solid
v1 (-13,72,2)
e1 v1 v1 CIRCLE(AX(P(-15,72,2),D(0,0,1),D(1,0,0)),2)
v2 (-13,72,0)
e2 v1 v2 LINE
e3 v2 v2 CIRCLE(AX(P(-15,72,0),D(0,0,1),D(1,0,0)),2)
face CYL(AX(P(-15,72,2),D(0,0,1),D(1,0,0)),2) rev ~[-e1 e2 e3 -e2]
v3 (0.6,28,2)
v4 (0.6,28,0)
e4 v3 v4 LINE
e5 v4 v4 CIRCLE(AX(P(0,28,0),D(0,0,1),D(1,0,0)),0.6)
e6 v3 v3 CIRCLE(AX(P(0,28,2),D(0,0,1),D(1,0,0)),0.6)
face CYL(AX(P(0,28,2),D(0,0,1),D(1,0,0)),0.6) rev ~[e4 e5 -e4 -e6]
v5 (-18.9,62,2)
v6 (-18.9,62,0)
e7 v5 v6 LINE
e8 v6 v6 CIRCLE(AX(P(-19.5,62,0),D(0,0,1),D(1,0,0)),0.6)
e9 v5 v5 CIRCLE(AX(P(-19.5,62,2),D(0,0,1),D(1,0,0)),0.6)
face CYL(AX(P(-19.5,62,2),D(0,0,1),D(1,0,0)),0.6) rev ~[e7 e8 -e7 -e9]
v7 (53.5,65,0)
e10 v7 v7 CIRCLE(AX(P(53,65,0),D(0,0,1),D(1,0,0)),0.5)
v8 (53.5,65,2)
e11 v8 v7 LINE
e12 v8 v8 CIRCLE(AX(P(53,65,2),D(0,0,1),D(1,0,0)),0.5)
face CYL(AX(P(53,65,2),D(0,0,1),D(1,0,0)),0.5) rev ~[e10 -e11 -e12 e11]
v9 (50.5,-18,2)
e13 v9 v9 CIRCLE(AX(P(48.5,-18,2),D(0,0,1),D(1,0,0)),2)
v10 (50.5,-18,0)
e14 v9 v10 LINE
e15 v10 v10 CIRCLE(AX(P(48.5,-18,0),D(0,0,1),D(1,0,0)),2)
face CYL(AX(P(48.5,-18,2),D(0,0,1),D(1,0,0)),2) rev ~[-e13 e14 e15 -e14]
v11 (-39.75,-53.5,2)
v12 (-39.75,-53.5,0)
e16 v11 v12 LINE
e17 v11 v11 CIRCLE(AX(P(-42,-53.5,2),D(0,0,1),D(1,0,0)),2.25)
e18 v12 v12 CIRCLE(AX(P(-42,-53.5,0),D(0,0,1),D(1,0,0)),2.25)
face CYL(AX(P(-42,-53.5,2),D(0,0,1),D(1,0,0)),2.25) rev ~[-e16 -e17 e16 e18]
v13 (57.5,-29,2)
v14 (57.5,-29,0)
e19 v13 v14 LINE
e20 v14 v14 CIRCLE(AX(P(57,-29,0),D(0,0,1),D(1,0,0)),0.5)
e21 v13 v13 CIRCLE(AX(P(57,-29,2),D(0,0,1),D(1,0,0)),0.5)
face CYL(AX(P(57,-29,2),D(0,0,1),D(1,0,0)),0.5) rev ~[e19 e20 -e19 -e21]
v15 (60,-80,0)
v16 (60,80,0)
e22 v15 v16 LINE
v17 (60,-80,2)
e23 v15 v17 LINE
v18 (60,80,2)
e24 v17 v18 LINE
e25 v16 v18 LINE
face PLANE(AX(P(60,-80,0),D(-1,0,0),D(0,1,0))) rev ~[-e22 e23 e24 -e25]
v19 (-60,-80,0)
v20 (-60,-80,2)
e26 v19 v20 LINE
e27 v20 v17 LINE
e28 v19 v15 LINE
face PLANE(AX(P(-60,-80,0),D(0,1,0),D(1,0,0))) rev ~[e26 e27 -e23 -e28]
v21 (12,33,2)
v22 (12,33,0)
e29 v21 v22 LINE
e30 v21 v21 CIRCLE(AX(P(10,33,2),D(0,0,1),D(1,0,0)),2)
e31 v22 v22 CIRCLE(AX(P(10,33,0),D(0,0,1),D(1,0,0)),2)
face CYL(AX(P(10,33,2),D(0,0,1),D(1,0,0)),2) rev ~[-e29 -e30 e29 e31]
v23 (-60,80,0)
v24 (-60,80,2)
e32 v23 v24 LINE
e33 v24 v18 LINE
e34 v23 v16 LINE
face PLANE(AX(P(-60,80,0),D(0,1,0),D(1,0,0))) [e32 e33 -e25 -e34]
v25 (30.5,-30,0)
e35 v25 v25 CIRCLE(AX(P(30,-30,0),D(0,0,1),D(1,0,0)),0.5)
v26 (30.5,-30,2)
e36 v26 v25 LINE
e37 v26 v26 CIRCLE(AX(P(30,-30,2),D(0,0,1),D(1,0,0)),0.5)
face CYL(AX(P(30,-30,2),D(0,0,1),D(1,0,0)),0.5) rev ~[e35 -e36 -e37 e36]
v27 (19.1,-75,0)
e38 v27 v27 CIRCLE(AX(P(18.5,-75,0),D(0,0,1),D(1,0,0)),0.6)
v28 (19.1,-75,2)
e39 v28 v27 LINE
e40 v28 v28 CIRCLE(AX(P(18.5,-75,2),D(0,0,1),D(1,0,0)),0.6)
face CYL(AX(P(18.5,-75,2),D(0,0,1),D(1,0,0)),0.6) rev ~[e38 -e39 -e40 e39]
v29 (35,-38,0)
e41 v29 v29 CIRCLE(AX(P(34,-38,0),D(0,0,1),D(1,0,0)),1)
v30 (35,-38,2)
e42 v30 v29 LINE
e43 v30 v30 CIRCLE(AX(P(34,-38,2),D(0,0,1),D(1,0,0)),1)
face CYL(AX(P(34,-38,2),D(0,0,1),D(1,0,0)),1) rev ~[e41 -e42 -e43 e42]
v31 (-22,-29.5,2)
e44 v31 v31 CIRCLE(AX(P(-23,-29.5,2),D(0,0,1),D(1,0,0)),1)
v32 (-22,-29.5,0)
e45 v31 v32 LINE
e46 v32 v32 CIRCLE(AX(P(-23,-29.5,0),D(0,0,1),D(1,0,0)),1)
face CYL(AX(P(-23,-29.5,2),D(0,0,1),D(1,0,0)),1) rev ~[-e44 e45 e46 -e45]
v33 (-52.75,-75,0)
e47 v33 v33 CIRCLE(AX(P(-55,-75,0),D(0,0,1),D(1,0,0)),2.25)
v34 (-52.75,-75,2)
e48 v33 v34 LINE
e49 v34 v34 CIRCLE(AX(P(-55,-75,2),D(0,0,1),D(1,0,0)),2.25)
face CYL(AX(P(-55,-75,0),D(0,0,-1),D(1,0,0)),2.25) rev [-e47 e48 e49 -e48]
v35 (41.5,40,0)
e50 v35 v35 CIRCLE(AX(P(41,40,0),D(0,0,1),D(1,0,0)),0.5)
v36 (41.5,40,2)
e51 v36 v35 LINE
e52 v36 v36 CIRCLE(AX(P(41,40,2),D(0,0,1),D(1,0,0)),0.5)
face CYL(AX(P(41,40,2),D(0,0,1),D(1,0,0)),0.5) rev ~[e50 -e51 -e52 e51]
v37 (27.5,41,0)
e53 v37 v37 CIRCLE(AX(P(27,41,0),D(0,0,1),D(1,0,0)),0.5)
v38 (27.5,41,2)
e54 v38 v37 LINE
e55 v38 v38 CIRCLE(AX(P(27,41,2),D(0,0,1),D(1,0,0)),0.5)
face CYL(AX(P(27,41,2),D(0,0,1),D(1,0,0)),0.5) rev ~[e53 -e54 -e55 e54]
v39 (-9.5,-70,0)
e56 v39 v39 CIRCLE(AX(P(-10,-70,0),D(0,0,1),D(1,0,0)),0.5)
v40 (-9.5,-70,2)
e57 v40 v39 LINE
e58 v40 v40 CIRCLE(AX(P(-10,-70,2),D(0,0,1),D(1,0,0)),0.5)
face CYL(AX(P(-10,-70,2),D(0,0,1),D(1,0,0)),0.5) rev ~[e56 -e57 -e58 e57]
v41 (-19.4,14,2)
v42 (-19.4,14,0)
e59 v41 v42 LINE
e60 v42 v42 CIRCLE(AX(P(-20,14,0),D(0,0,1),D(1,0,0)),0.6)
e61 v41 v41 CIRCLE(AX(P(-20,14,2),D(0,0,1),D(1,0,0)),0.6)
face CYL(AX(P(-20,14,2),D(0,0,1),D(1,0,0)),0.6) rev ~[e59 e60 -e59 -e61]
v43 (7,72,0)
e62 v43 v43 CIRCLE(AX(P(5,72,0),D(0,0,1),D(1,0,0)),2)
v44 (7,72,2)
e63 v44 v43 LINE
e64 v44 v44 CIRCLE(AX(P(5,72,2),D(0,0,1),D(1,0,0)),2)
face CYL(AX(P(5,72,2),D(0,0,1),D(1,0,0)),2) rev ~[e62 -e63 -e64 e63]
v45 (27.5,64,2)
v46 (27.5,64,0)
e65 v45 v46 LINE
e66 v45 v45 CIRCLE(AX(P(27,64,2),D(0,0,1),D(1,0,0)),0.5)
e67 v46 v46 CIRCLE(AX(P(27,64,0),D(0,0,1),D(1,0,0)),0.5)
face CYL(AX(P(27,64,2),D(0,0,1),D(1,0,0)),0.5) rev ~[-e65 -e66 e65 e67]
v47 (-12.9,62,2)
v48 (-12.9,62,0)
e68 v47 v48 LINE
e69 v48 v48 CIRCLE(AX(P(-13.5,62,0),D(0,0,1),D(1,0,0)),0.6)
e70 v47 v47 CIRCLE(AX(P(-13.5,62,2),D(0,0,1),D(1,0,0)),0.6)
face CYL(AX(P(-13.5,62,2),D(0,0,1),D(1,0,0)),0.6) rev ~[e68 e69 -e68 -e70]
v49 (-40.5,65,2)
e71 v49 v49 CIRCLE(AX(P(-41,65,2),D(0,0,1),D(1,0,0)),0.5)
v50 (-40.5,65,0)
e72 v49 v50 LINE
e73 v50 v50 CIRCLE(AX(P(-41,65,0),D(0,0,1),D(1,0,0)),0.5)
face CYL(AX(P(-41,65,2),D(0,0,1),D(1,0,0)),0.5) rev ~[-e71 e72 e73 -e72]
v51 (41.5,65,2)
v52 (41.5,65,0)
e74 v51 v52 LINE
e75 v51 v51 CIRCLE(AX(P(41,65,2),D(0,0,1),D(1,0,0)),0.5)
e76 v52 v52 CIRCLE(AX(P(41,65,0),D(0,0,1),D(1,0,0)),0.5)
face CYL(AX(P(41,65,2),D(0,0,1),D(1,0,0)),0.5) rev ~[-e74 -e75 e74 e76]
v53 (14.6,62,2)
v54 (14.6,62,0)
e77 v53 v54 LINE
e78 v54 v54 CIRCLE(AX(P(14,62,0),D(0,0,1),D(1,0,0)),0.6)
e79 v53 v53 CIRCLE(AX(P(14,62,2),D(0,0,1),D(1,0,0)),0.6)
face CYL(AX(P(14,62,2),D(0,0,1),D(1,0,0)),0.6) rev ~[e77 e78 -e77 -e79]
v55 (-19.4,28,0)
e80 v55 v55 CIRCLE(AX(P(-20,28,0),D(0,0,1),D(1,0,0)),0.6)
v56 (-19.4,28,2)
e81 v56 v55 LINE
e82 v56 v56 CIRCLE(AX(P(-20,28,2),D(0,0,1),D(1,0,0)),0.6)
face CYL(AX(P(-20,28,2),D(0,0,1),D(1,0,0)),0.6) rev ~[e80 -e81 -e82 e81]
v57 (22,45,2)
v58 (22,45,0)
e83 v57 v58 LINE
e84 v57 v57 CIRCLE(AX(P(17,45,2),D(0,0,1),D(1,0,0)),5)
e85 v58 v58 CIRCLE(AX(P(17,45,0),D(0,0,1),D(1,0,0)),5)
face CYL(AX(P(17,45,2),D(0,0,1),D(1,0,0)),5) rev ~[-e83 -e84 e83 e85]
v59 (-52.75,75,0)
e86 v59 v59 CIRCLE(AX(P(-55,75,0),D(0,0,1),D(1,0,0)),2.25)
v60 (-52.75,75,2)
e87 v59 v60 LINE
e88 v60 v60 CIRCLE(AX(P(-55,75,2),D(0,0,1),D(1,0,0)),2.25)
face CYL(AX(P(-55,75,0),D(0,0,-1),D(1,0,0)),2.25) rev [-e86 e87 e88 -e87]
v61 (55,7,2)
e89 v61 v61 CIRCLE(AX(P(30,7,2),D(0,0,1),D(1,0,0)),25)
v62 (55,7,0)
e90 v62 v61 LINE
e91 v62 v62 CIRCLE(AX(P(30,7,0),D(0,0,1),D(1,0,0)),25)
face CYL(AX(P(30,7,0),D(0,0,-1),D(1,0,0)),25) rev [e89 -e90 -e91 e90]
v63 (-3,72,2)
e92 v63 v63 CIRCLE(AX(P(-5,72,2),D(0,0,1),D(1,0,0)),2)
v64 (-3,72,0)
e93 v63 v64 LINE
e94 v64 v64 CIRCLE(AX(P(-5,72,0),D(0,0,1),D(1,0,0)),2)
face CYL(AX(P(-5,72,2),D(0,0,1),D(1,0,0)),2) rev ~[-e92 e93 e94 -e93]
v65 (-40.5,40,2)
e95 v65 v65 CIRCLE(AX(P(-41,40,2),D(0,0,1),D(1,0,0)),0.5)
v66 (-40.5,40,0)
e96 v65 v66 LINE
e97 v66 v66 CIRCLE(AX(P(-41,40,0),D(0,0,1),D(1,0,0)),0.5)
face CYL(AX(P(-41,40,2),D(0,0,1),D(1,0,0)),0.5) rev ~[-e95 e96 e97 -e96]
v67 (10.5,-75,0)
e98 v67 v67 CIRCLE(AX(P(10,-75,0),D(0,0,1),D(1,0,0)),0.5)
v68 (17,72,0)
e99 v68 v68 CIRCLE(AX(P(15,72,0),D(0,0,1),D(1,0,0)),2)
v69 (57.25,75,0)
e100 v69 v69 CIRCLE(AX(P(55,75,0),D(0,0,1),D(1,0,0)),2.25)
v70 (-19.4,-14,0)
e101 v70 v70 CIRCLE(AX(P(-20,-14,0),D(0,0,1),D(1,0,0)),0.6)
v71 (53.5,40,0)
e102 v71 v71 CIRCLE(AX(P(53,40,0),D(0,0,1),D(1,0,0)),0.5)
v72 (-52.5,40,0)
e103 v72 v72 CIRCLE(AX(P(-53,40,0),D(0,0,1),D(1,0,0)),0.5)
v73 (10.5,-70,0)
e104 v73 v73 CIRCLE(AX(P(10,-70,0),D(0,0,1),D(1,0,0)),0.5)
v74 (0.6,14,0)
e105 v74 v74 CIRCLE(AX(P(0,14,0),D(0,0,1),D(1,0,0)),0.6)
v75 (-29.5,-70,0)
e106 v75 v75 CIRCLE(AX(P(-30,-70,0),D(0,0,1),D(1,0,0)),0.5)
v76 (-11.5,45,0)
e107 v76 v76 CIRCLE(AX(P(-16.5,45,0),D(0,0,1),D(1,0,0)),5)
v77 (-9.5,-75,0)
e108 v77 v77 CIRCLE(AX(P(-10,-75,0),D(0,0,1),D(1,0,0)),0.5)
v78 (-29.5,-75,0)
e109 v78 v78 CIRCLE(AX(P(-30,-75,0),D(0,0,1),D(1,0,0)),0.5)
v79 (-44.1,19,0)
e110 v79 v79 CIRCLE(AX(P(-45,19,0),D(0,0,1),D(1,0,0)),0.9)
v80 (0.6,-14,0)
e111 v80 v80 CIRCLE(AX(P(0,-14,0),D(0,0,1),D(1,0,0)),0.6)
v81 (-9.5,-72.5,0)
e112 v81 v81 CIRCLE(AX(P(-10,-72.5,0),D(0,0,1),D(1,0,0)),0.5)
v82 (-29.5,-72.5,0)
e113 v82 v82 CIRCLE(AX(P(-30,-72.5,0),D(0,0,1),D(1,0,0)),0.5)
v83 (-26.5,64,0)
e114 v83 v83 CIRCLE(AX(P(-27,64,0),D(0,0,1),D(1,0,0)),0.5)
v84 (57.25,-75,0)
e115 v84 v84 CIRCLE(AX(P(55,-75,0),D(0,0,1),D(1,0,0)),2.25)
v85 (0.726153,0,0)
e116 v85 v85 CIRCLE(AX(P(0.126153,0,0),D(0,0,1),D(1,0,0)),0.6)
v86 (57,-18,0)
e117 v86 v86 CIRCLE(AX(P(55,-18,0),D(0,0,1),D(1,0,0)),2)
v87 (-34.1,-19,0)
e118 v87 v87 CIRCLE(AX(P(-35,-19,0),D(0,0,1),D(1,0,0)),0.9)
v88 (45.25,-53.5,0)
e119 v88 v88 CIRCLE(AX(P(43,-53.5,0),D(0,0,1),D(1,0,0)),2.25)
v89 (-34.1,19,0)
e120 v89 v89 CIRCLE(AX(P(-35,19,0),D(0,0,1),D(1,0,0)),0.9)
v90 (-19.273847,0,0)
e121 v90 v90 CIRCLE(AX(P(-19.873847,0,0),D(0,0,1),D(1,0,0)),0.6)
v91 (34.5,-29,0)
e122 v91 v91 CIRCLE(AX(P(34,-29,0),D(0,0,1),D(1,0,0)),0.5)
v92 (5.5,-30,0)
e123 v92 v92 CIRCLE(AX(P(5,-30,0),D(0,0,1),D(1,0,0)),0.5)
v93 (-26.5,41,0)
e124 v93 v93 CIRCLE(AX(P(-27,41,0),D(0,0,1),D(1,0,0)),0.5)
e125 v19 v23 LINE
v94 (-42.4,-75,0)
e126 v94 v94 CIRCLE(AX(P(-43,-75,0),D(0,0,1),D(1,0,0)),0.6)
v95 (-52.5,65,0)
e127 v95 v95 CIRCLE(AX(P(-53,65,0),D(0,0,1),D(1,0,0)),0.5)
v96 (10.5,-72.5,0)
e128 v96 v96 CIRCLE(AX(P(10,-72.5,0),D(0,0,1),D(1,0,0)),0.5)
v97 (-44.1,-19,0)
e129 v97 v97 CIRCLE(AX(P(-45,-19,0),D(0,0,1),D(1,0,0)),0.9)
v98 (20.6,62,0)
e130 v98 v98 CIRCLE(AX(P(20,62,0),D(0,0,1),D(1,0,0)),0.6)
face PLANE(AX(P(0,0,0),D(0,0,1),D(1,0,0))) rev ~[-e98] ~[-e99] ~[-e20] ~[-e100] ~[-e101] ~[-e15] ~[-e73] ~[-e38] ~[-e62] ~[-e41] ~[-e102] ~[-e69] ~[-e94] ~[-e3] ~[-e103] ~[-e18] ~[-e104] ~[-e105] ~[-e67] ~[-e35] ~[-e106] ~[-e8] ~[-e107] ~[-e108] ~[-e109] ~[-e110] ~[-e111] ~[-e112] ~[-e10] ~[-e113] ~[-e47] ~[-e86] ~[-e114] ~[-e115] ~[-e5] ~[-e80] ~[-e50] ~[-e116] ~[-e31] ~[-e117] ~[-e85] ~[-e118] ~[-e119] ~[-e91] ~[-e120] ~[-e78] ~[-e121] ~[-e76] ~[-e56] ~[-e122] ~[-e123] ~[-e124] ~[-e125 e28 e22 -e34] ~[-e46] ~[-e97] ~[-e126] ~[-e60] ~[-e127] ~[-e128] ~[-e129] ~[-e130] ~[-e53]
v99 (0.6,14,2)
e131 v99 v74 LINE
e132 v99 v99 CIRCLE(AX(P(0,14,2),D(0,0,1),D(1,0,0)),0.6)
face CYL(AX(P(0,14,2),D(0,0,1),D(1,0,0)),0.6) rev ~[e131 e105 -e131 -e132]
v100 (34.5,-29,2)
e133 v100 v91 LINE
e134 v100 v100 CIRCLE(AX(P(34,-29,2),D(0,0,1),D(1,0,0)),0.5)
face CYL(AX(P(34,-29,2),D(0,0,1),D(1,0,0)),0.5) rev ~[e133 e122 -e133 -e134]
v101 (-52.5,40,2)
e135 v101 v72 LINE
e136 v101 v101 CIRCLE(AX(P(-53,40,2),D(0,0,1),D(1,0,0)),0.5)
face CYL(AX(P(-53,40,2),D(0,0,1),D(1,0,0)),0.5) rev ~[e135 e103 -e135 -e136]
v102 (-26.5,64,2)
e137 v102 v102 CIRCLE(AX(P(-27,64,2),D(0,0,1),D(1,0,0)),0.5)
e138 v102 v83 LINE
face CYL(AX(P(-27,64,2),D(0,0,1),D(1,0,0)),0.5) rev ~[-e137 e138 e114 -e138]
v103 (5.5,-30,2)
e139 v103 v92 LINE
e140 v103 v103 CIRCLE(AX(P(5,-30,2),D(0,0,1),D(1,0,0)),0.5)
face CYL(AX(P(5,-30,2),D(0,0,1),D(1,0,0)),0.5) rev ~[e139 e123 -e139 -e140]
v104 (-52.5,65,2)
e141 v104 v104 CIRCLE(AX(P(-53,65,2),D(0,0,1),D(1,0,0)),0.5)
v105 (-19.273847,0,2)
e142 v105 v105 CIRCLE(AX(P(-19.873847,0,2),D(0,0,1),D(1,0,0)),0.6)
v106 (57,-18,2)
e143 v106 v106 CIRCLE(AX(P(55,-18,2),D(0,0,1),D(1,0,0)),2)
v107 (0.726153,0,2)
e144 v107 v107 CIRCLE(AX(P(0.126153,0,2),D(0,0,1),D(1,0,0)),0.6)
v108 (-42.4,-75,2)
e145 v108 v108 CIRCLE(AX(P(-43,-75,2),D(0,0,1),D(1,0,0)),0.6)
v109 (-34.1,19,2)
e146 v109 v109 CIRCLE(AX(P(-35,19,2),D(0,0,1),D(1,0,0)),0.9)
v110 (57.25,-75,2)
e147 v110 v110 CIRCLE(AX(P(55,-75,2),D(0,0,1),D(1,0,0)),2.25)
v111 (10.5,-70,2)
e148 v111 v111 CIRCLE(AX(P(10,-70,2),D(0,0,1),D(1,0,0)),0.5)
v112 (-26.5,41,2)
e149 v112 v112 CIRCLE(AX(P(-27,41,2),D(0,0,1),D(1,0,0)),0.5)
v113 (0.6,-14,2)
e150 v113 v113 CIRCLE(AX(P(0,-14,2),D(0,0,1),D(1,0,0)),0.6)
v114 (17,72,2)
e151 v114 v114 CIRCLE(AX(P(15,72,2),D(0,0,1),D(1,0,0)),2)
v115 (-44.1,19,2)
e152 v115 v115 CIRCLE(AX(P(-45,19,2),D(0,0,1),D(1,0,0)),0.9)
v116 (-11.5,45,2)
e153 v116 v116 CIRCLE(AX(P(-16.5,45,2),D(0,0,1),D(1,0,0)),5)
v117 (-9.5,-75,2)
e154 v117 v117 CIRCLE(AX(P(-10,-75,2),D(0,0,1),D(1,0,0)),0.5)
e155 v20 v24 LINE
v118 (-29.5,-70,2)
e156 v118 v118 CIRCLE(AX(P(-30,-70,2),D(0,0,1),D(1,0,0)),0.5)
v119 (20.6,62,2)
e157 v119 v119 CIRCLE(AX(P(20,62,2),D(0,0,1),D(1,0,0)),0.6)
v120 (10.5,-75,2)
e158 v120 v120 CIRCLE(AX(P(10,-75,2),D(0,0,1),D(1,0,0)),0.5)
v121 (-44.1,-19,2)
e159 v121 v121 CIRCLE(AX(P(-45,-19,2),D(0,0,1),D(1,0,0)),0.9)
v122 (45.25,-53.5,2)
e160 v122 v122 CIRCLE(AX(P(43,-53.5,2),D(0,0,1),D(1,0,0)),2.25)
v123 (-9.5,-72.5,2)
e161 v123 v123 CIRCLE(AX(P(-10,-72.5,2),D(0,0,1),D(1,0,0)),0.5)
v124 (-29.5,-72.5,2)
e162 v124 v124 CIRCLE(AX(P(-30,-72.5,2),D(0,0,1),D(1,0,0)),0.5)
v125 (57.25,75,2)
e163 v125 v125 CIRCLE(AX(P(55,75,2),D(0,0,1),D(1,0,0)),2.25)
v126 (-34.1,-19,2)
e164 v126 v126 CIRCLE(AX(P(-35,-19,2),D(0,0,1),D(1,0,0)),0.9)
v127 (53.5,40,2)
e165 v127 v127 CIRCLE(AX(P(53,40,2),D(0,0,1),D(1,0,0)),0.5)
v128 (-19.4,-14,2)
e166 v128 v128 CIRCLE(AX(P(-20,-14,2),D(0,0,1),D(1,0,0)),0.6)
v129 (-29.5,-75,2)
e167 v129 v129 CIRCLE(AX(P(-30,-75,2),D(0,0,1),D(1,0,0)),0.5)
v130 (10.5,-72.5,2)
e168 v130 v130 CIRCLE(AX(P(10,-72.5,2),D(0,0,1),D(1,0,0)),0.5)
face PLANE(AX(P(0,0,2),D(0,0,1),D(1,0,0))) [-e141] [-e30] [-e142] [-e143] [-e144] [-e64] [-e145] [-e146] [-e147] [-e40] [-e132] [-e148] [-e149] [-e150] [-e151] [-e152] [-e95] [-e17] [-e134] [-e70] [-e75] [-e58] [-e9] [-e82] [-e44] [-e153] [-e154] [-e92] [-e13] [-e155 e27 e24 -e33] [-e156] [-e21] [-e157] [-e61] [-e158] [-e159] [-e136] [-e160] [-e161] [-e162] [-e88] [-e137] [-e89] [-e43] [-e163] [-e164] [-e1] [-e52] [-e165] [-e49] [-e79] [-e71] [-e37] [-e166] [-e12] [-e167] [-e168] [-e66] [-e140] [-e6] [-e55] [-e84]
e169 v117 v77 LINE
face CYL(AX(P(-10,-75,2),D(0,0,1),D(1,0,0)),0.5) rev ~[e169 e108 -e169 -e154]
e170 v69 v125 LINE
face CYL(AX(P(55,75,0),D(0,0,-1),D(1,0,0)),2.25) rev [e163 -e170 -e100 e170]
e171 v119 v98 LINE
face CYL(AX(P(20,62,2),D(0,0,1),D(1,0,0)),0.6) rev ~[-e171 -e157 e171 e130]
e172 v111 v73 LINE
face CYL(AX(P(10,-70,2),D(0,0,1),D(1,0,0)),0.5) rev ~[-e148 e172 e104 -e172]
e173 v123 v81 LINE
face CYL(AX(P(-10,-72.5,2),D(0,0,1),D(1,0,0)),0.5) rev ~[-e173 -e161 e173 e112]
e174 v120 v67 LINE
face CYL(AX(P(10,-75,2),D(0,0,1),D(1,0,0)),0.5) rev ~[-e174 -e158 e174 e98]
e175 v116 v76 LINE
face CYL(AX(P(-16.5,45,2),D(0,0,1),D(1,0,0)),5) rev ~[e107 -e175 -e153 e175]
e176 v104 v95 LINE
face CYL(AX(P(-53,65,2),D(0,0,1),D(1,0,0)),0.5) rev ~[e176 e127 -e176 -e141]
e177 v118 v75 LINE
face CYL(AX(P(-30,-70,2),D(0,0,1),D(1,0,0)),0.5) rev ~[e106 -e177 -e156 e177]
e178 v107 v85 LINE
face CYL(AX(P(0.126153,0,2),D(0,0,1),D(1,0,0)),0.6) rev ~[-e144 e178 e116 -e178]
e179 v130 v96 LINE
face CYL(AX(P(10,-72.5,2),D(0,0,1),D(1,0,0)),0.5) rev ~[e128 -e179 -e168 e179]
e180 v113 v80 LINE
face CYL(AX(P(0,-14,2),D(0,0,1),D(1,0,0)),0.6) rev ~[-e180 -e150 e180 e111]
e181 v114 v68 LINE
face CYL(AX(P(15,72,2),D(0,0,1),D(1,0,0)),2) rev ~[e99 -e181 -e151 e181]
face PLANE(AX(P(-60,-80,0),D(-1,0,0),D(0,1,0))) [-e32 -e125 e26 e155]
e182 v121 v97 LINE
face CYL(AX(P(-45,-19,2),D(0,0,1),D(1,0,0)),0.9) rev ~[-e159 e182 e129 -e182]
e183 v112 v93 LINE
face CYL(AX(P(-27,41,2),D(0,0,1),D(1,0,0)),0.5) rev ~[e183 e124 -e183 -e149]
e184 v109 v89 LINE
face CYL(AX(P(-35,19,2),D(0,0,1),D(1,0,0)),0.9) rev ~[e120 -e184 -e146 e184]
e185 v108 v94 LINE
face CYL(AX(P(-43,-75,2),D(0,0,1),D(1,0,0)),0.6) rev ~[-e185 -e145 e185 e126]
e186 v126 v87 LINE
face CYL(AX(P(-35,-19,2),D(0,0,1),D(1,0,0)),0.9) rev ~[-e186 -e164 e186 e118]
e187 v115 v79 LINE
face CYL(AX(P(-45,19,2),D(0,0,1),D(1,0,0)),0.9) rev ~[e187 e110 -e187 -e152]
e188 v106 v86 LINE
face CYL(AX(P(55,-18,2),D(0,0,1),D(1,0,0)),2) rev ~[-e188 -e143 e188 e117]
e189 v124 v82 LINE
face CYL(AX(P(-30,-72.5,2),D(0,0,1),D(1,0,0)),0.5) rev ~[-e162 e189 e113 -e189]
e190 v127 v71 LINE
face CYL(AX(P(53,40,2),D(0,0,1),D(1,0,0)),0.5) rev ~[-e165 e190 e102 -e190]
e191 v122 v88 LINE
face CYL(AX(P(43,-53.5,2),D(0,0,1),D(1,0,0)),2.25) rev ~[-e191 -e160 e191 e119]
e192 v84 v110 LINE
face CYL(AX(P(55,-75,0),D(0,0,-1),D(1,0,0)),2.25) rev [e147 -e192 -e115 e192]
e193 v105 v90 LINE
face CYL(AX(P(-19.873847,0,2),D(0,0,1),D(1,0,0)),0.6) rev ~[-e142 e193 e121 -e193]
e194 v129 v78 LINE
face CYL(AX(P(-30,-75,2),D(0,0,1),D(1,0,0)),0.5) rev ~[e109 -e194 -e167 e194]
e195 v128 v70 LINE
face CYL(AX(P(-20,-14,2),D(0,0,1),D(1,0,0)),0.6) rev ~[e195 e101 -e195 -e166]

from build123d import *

# Parameters (mm, degrees)
SKETCH_1_W          = 120
SKETCH_1_H          = 160
SKETCH_1_R          = 2.25
SKETCH_1_R_2        = 25
EXTRUDE_1_DEPTH     = 2
SKETCH_2_R          = 2.25
SKETCH_2_R_2        = 0.6
SKETCH_2_R_3        = 0.5
SKETCH_2_R_4        = 2
CUT_EXTRUDE_1_DEPTH = 2
SKETCH_3_R          = 5
SKETCH_3_R_2        = 0.6
SKETCH_3_R_3        = 1
CUT_EXTRUDE_2_DEPTH = 2
SKETCH_4_R          = 0.9
SKETCH_4_R_2        = 0.6
CUT_EXTRUDE_3_DEPTH = 2
SKETCH_5_R          = 0.5
CUT_EXTRUDE_4_DEPTH = 2


with BuildPart() as part:
    # Эскиз1 → Вытянуть1 (new body)
    with BuildSketch(Plane.XY):
        Rectangle(SKETCH_1_W, SKETCH_1_H)
        with Locations((-55, -75)):
            Circle(SKETCH_1_R, mode=Mode.SUBTRACT)
        with Locations((55, -75)):
            Circle(SKETCH_1_R, mode=Mode.SUBTRACT)
        with Locations((55, 75)):
            Circle(SKETCH_1_R, mode=Mode.SUBTRACT)
        with Locations((-55, 75)):
            Circle(SKETCH_1_R, mode=Mode.SUBTRACT)
        with Locations((30, 7)):
            Circle(SKETCH_1_R_2, mode=Mode.SUBTRACT)
    extrude(amount=EXTRUDE_1_DEPTH)

    # Эскиз2 → Вырез-Вытянуть1 (cut)
    with BuildSketch(Plane.XY.offset(2)):
        with Locations((-42, -53.5)):
            Circle(SKETCH_2_R)
        with Locations((43, -53.5)):
            Circle(SKETCH_2_R)
        with Locations((-43, -75)):
            Circle(SKETCH_2_R_2)
        with Locations((18.5, -75)):
            Circle(SKETCH_2_R_2)
        with Locations((-30, -70)):
            Circle(SKETCH_2_R_3)
        with Locations((-30, -72.5)):
            Circle(SKETCH_2_R_3)
        with Locations((-30, -75)):
            Circle(SKETCH_2_R_3)
        with Locations((-10, -70)):
            Circle(SKETCH_2_R_3)
        with Locations((-10, -72.5)):
            Circle(SKETCH_2_R_3)
        with Locations((-10, -75)):
            Circle(SKETCH_2_R_3)
        with Locations((10, -70)):
            Circle(SKETCH_2_R_3)
        with Locations((10, -72.5)):
            Circle(SKETCH_2_R_3)
        with Locations((10, -75)):
            Circle(SKETCH_2_R_3)
        with Locations((-15, 72)):
            Circle(SKETCH_2_R_4)
        with Locations((-5, 72)):
            Circle(SKETCH_2_R_4)
        with Locations((5, 72)):
            Circle(SKETCH_2_R_4)
        with Locations((15, 72)):
            Circle(SKETCH_2_R_4)
        with Locations((10, 33)):
            Circle(SKETCH_2_R_4)
        with Locations((55, -18)):
            Circle(SKETCH_2_R_4)
        with Locations((48.5, -18)):
            Circle(SKETCH_2_R_4)
    extrude(amount=-CUT_EXTRUDE_1_DEPTH, mode=Mode.SUBTRACT)

    # Эскиз3 → Вырез-Вытянуть2 (cut)
    with BuildSketch(Plane.XY.offset(2)):
        with Locations((-16.5, 45)):
            Circle(SKETCH_3_R)
        with Locations((17, 45)):
            Circle(SKETCH_3_R)
        with Locations((-19.5, 62)):
            Circle(SKETCH_3_R_2)
        with Locations((-13.5, 62)):
            Circle(SKETCH_3_R_2)
        with Locations((14, 62)):
            Circle(SKETCH_3_R_2)
        with Locations((20, 62)):
            Circle(SKETCH_3_R_2)
        with Locations((34, -38)):
            Circle(SKETCH_3_R_3)
        with Locations((-23, -29.5)):
            Circle(SKETCH_3_R_3)
    extrude(amount=-CUT_EXTRUDE_2_DEPTH, mode=Mode.SUBTRACT)

    # Эскиз4 → Вырез-Вытянуть3 (cut)
    with BuildSketch(Plane.XY.offset(2)):
        with Locations((-45, 19)):
            Circle(SKETCH_4_R)
        with Locations((-35, 19)):
            Circle(SKETCH_4_R)
        with Locations((-35, -19)):
            Circle(SKETCH_4_R)
        with Locations((-45, -19)):
            Circle(SKETCH_4_R)
        with Locations((-20, -14)):
            Circle(SKETCH_4_R_2)
        with Locations((0, -14)):
            Circle(SKETCH_4_R_2)
        with Locations((-19.873847439, 0)):
            Circle(SKETCH_4_R_2)
        with Locations((0.126152561, 0)):
            Circle(SKETCH_4_R_2)
        with Locations((-20, 14)):
            Circle(SKETCH_4_R_2)
        with Locations((0, 14)):
            Circle(SKETCH_4_R_2)
        with Locations((-20, 28)):
            Circle(SKETCH_4_R_2)
        with Locations((0, 28)):
            Circle(SKETCH_4_R_2)
    extrude(amount=-CUT_EXTRUDE_3_DEPTH, mode=Mode.SUBTRACT)

    # Эскиз5 → Вырез-Вытянуть4 (cut)
    with BuildSketch(Plane.XY.offset(2)):
        with Locations((-53, 40)):
            Circle(SKETCH_5_R)
        with Locations((-53, 65)):
            Circle(SKETCH_5_R)
        with Locations((-41, 40)):
            Circle(SKETCH_5_R)
        with Locations((-41, 65)):
            Circle(SKETCH_5_R)
        with Locations((41, 40)):
            Circle(SKETCH_5_R)
        with Locations((41, 65)):
            Circle(SKETCH_5_R)
        with Locations((53, 40)):
            Circle(SKETCH_5_R)
        with Locations((53, 65)):
            Circle(SKETCH_5_R)
        with Locations((-27, 41)):
            Circle(SKETCH_5_R)
        with Locations((-27, 64)):
            Circle(SKETCH_5_R)
        with Locations((27, 41)):
            Circle(SKETCH_5_R)
        with Locations((27, 64)):
            Circle(SKETCH_5_R)
        with Locations((34, -29)):
            Circle(SKETCH_5_R)
        with Locations((57, -29)):
            Circle(SKETCH_5_R)
        with Locations((5, -30)):
            Circle(SKETCH_5_R)
        with Locations((30, -30)):
            Circle(SKETCH_5_R)
    extrude(amount=-CUT_EXTRUDE_4_DEPTH, mode=Mode.SUBTRACT)


solid = part.part
